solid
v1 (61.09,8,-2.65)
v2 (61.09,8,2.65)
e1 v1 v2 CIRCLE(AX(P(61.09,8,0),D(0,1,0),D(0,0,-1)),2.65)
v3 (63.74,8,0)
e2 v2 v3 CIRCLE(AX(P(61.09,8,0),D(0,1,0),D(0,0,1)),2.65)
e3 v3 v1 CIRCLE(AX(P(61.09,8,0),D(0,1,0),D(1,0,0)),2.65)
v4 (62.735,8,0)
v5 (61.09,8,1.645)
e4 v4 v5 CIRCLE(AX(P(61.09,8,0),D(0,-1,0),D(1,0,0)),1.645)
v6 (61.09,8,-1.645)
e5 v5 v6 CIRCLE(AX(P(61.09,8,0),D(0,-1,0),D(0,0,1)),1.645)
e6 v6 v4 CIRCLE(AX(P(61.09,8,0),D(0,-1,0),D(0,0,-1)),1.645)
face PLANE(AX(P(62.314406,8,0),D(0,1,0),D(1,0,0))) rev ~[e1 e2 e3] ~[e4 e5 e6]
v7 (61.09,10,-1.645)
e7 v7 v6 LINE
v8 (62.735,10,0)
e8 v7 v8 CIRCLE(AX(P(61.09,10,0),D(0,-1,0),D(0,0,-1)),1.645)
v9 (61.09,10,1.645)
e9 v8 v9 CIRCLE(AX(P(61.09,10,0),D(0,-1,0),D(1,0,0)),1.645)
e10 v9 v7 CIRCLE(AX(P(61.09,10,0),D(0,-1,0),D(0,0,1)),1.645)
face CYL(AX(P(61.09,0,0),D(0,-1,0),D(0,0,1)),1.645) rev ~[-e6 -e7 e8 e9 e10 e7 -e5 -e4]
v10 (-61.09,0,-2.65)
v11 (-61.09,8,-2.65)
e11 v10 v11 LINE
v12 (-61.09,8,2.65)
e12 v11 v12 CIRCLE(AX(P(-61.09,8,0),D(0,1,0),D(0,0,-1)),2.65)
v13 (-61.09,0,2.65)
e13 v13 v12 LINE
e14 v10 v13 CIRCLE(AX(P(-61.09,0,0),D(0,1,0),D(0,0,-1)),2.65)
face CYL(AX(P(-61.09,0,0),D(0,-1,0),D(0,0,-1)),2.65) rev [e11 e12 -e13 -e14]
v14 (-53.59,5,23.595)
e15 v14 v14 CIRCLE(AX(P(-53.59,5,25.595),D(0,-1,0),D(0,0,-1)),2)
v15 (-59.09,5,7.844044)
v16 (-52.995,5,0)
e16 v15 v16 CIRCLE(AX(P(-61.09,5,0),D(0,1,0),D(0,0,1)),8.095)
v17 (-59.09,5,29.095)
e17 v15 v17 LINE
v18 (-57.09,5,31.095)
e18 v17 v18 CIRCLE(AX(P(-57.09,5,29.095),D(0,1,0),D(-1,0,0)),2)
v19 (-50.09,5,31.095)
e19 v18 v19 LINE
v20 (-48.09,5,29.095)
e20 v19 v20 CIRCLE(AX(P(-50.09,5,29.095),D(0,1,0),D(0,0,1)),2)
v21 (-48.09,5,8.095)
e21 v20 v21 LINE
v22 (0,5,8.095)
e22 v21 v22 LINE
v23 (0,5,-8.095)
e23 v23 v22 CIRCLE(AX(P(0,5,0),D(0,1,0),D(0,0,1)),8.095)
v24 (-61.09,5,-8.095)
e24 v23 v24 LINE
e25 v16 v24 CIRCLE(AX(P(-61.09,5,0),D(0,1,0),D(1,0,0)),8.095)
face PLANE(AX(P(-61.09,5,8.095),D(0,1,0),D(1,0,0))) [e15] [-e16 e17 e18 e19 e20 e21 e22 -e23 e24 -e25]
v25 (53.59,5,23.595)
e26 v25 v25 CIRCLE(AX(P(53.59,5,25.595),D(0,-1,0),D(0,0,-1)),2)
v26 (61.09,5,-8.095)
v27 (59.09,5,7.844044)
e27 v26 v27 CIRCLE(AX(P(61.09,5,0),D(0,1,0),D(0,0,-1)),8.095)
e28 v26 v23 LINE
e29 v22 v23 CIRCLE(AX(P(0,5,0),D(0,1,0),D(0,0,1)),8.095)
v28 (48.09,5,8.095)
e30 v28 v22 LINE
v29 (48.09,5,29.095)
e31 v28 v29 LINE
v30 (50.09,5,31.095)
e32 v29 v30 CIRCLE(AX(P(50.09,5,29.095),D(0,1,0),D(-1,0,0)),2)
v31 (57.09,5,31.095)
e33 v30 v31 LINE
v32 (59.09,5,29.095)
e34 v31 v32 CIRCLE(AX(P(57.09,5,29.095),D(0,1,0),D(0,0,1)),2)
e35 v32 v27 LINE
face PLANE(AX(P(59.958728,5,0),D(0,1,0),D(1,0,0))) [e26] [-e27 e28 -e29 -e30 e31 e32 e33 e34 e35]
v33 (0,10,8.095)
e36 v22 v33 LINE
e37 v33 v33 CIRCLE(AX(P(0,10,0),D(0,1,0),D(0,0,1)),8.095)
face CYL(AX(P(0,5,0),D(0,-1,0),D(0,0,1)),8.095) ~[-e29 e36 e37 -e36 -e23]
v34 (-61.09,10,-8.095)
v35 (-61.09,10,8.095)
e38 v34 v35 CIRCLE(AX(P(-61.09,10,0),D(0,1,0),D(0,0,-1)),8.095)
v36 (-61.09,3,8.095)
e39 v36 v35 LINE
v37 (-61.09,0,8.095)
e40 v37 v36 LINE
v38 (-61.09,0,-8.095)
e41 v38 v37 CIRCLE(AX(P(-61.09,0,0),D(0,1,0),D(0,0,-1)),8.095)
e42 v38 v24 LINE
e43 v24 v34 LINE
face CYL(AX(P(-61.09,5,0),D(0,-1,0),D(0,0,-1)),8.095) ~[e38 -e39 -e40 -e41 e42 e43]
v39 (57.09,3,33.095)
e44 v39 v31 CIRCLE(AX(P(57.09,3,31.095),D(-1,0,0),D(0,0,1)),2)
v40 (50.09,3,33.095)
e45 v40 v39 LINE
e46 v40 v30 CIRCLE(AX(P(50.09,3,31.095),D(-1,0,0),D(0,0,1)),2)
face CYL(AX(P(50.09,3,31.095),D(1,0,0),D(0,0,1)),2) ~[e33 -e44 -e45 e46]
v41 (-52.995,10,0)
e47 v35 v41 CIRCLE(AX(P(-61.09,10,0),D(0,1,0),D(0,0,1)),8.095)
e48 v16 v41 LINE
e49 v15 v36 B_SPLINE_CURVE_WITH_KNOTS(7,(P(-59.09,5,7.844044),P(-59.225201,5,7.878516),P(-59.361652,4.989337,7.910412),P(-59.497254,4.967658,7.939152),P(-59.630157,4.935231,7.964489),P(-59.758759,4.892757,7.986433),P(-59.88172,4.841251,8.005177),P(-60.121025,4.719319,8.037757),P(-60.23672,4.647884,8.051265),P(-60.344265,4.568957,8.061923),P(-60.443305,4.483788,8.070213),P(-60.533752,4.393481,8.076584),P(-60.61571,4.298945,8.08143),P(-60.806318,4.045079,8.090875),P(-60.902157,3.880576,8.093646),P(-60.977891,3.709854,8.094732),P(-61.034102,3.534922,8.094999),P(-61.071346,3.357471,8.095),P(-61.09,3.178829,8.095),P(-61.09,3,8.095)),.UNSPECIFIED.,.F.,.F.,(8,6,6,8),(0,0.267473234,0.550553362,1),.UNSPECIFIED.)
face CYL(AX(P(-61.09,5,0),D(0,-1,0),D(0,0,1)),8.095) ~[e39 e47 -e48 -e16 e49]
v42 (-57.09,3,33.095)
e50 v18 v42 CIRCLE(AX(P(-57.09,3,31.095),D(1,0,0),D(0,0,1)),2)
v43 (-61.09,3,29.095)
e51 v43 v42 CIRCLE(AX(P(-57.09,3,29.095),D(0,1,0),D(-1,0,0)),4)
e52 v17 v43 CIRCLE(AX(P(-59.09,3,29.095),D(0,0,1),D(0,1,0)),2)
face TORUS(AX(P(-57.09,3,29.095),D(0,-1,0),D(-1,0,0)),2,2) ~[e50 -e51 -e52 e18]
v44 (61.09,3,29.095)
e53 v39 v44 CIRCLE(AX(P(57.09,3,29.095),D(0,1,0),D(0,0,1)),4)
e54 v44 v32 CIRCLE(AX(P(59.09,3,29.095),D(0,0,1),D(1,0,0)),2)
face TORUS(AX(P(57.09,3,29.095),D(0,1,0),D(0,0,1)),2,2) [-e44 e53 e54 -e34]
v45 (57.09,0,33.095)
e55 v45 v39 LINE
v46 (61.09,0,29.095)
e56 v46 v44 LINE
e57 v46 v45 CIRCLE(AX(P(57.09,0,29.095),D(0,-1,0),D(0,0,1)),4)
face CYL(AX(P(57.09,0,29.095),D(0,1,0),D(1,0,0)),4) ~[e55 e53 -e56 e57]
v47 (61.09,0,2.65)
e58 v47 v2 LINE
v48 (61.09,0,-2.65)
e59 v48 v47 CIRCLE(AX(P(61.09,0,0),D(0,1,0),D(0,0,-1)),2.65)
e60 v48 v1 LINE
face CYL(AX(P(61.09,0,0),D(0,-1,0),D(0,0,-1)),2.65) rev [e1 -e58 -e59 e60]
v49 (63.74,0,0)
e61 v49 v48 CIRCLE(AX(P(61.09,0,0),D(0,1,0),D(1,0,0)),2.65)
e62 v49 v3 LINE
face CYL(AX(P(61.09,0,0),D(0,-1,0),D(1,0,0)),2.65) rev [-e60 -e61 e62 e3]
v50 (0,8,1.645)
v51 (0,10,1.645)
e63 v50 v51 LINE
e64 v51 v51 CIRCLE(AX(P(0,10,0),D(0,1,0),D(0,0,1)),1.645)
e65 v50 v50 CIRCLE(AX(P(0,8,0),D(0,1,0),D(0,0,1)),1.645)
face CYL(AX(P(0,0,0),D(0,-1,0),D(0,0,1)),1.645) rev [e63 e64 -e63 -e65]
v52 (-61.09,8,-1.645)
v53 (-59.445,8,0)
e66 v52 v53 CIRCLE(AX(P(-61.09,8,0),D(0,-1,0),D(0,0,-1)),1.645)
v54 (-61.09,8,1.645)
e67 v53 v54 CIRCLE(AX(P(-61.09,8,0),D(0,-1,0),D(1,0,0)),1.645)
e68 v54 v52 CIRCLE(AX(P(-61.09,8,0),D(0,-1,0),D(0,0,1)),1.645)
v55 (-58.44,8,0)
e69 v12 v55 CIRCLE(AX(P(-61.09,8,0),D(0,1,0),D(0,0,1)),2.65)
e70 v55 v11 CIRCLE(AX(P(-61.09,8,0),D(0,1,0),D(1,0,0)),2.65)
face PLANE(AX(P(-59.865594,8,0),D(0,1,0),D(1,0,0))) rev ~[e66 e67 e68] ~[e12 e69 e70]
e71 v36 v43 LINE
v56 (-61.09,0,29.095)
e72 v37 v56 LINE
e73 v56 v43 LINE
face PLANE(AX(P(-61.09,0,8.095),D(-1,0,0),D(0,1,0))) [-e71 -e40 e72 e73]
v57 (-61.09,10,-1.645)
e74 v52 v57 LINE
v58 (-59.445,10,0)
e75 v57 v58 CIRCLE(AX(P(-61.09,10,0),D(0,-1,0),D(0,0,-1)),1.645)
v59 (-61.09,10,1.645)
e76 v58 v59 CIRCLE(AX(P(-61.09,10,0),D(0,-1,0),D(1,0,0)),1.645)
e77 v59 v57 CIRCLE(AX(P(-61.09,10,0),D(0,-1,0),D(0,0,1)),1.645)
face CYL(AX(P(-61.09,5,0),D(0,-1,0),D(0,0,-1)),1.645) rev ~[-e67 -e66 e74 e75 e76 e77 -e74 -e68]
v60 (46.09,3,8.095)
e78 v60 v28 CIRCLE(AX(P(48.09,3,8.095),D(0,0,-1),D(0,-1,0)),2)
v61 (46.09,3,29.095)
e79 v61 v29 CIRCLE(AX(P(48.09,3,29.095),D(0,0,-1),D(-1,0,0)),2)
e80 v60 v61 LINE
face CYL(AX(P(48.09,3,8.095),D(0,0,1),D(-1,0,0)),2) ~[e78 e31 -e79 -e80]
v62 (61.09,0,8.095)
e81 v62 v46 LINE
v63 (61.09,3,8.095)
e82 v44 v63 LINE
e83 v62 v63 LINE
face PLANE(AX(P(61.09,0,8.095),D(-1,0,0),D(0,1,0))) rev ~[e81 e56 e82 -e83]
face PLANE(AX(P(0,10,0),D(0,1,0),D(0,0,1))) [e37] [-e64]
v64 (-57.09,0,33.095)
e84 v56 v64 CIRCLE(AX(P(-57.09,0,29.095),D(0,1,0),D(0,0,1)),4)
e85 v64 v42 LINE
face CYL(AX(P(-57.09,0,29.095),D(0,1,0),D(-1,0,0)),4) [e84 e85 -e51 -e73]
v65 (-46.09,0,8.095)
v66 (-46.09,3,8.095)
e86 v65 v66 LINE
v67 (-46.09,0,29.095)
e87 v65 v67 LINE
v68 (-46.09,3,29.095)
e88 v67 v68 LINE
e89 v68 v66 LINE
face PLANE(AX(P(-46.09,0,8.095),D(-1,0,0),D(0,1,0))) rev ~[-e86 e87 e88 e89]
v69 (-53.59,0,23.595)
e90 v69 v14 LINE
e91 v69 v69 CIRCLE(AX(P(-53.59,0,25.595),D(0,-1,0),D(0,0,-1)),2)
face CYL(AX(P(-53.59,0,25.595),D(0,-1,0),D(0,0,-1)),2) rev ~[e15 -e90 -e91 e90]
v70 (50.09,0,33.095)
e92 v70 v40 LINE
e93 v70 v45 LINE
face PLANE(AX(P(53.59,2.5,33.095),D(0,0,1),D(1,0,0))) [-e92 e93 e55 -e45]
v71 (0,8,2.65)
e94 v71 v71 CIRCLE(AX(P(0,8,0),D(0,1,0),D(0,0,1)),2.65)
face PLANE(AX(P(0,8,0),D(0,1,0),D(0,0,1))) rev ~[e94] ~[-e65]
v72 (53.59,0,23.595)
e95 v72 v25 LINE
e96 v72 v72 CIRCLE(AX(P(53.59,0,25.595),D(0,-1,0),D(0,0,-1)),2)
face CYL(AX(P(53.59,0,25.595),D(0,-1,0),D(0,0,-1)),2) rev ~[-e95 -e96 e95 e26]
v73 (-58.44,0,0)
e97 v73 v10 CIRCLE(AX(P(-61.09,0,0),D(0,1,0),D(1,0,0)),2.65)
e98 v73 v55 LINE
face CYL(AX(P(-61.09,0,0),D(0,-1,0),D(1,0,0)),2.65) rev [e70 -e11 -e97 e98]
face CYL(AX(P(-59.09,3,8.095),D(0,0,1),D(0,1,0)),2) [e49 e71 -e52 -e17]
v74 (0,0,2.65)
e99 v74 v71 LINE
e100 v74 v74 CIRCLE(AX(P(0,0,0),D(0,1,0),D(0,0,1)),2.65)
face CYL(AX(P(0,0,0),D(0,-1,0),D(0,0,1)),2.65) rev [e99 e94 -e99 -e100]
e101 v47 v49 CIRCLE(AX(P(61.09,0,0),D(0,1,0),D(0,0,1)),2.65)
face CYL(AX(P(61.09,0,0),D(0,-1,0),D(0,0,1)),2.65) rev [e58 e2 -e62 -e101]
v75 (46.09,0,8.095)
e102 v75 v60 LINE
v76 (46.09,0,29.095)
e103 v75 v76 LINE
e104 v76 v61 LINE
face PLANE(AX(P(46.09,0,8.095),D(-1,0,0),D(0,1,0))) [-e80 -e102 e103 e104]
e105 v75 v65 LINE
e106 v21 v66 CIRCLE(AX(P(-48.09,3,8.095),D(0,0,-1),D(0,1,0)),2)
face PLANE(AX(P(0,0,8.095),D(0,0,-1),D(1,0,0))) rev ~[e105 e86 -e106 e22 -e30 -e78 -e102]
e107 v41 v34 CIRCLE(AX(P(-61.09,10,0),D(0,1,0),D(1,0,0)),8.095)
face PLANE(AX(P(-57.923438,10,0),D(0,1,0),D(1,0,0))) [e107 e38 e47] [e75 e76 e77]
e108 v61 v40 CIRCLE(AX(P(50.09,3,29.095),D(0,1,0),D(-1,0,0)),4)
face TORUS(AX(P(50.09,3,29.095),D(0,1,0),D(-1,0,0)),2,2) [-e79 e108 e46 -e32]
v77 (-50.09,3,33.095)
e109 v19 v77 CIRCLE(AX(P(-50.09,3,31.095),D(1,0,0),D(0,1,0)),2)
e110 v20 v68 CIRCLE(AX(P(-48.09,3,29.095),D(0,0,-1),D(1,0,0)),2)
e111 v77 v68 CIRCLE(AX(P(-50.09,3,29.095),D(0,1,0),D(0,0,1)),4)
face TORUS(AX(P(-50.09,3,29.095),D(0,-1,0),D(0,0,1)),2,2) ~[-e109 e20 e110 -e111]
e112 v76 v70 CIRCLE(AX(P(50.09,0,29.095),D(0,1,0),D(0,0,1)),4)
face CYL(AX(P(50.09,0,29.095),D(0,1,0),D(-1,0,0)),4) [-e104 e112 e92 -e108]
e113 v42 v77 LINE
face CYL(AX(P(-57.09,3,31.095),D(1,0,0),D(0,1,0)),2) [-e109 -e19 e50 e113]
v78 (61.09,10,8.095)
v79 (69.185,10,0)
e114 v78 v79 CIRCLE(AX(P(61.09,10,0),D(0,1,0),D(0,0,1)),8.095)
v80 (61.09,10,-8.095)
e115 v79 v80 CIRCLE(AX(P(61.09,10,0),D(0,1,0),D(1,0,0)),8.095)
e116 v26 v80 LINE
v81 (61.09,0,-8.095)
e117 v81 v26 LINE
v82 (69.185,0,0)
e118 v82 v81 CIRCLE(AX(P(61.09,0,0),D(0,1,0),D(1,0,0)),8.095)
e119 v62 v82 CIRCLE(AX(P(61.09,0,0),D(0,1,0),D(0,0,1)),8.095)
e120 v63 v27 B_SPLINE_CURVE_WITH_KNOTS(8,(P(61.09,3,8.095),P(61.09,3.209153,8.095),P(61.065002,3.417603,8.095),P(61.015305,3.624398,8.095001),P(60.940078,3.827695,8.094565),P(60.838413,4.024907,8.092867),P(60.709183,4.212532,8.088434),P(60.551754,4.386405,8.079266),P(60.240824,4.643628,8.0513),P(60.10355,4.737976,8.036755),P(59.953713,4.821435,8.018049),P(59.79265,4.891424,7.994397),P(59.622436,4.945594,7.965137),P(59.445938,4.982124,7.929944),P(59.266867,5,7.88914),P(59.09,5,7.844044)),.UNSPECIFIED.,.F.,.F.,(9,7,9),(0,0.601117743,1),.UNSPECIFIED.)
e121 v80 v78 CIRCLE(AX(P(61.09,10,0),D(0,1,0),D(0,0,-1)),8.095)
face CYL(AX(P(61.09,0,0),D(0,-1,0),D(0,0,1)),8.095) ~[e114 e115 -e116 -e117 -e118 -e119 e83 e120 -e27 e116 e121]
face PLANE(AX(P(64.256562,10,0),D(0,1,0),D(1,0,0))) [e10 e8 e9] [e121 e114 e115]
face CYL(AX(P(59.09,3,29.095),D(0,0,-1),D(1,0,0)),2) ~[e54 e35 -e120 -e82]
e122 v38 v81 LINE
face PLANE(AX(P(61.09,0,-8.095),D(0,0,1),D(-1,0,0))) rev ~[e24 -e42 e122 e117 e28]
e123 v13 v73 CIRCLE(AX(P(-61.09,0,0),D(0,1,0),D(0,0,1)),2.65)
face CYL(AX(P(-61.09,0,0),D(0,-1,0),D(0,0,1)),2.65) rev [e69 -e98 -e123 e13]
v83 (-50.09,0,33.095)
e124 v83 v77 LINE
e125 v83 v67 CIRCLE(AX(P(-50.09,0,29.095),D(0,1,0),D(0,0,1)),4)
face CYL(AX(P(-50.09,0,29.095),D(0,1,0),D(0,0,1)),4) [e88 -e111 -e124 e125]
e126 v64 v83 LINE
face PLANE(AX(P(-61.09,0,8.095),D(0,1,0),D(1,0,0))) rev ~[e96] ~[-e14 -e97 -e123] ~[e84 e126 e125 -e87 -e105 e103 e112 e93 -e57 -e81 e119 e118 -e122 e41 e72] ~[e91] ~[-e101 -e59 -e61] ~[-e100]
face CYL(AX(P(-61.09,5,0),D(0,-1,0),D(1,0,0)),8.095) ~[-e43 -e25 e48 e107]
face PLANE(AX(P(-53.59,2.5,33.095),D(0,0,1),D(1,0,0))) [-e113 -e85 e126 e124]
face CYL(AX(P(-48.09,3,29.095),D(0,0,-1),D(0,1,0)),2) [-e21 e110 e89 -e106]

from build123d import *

# Parameters (mm, degrees)
SKETCH1_R           = 8.095
SKETCH1_R_2         = 2.65
SKETCH1_R_3         = 1.645
BOSS_EXTRUDE1_DEPTH = 5
BOSS_EXTRUDE2_START = 5
SKETCH1_3_R         = 8.095
SKETCH1_3_R_2       = 2.65
SKETCH1_3_R_3       = 1.645
BOSS_EXTRUDE2_DEPTH = 5
SKETCH1_4_R         = 2.65
SKETCH1_4_R_2       = 1.645
CUT_EXTRUDE1_DEPTH  = 8
SKETCH2_W           = 15
SKETCH2_H           = 5
BOSS_EXTRUDE3_DEPTH = 25
FILLET1_R           = 4
FILLET2_R           = 2
CUT_EXTRUDE2_REACH  = 79.342
SKETCH3_R           = 2


with BuildPart() as part:
    # Sketch1 → Boss-Extrude1 (new body)
    # profile 1 of 20: a face of its own
    with BuildSketch(Plane(origin=(0, 0, 0), x_dir=(1, 0, 0), z_dir=(0, 1, 0))):
        with BuildLine():
            ThreePointArc((-52.995, 0), (-55.365970606, 5.724029394), (-61.09, 8.095))
            Line((-61.09, 8.095), (-61.09, 2.65))
            ThreePointArc((-61.09, 2.65), (-59.21616703, 1.87383297), (-58.44, 0))
            ThreePointArc((-58.44, 0), (-59.21616703, -1.87383297), (-61.09, -2.65))
            Line((-61.09, -2.65), (-61.09, -8.095))
            ThreePointArc((-61.09, -8.095), (-55.365970606, -5.724029394), (-52.995, 0))
        make_face()
    # profile 2 of 20: a face of its own
    with BuildSketch(Plane(origin=(0, 0, 0), x_dir=(1, 0, 0), z_dir=(0, 1, 0))):
        with BuildLine():
            Line((-61.09, 2.65), (-61.09, 8.095))
            ThreePointArc((-61.09, 8.095), (-69.185, 0), (-61.09, -8.095))
            Line((-61.09, -8.095), (-61.09, -2.65))
            ThreePointArc((-61.09, -2.65), (-63.74, 0), (-61.09, 2.65))
        make_face()
    # profile 3 of 20: a face of its own
    with BuildSketch(Plane(origin=(0, 0, 0), x_dir=(1, 0, 0), z_dir=(0, 1, 0))):
        with BuildLine():
            ThreePointArc((-52.995, 0), (-55.365970606, 5.724029394), (-61.09, 8.095))
            Line((-61.09, 8.095), (-61.09, 2.65))
            ThreePointArc((-61.09, 2.65), (-59.21616703, 1.87383297), (-58.44, 0))
            ThreePointArc((-58.44, 0), (-59.21616703, -1.87383297), (-61.09, -2.65))
            Line((-61.09, -2.65), (-61.09, -8.095))
            ThreePointArc((-61.09, -8.095), (-55.365970606, -5.724029394), (-52.995, 0))
        make_face()
    # profile 4 of 20: a face of its own
    with BuildSketch(Plane(origin=(0, 0, 0), x_dir=(1, 0, 0), z_dir=(0, 1, 0))):
        with BuildLine():
            Line((-61.09, 2.65), (-61.09, 8.095))
            ThreePointArc((-61.09, 8.095), (-69.185, 0), (-61.09, -8.095))
            Line((-61.09, -8.095), (-61.09, -2.65))
            ThreePointArc((-61.09, -2.65), (-63.74, 0), (-61.09, 2.65))
        make_face()
    # profile 5 of 20: a face of its own
    with BuildSketch(Plane(origin=(0, 0, 0), x_dir=(1, 0, 0), z_dir=(0, 1, 0))):
        with BuildLine():
            ThreePointArc((-58.44, 0), (-59.21616703, 1.87383297), (-61.09, 2.65))
            Line((-61.09, 2.65), (-61.09, 1.645))
            ThreePointArc((-61.09, 1.645), (-59.926809345, 1.163190655), (-59.445, 0))
            ThreePointArc((-59.445, 0), (-59.926809345, -1.163190655), (-61.09, -1.645))
            Line((-61.09, -1.645), (-61.09, -2.65))
            ThreePointArc((-61.09, -2.65), (-59.21616703, -1.87383297), (-58.44, 0))
        make_face()
    # profile 6 of 20: a face of its own
    with BuildSketch(Plane(origin=(0, 0, 0), x_dir=(1, 0, 0), z_dir=(0, 1, 0))):
        with BuildLine():
            Line((-61.09, 1.645), (-61.09, 2.65))
            ThreePointArc((-61.09, 2.65), (-63.74, 0), (-61.09, -2.65))
            Line((-61.09, -2.65), (-61.09, -1.645))
            ThreePointArc((-61.09, -1.645), (-62.735, 0), (-61.09, 1.645))
        make_face()
    # profile 7 of 20: a face of its own
    with BuildSketch(Plane(origin=(0, 0, 0), x_dir=(1, 0, 0), z_dir=(0, 1, 0))):
        with BuildLine():
            ThreePointArc((-58.44, 0), (-59.21616703, 1.87383297), (-61.09, 2.65))
            Line((-61.09, 2.65), (-61.09, 1.645))
            ThreePointArc((-61.09, 1.645), (-59.926809345, 1.163190655), (-59.445, 0))
            ThreePointArc((-59.445, 0), (-59.926809345, -1.163190655), (-61.09, -1.645))
            Line((-61.09, -1.645), (-61.09, -2.65))
            ThreePointArc((-61.09, -2.65), (-59.21616703, -1.87383297), (-58.44, 0))
        make_face()
    # profile 8 of 20: a face of its own
    with BuildSketch(Plane(origin=(0, 0, 0), x_dir=(1, 0, 0), z_dir=(0, 1, 0))):
        with BuildLine():
            Line((-61.09, 1.645), (-61.09, 2.65))
            ThreePointArc((-61.09, 2.65), (-63.74, 0), (-61.09, -2.65))
            Line((-61.09, -2.65), (-61.09, -1.645))
            ThreePointArc((-61.09, -1.645), (-62.735, 0), (-61.09, 1.645))
        make_face()
    # profile 9 of 20: a face of its own
    with BuildSketch(Plane(origin=(0, 0, 0), x_dir=(1, 0, 0), z_dir=(0, 1, 0))):
        with BuildLine():
            Line((-3.7e-08, 8.095), (-61.09, 8.095))
            ThreePointArc((-61.09, 8.095), (-55.365970606, 5.724029394), (-52.995, 0))
            ThreePointArc((-52.995, 0), (-55.365970606, -5.724029394), (-61.09, -8.095))
            Line((-61.09, -8.095), (4.2e-08, -8.095))
            ThreePointArc((4.2e-08, -8.095), (-8.095, -4e-08), (-3.7e-08, 8.095))
        make_face()
    # profile 10 of 20: a face of its own
    with BuildSketch(Plane(origin=(0, 0, 0), x_dir=(1, 0, 0), z_dir=(0, 1, 0))):
        Circle(SKETCH1_R)
        Circle(SKETCH1_R_2, mode=Mode.SUBTRACT)
    # profile 11 of 20: a face of its own
    with BuildSketch(Plane(origin=(0, 0, 0), x_dir=(1, 0, 0), z_dir=(0, 1, 0))):
        Circle(SKETCH1_R_2)
        with Locations(Location((0, 0, 0), (0, 0, 270))):
            Circle(SKETCH1_R_3, mode=Mode.SUBTRACT)
    # profile 12 of 20: a face of its own
    with BuildSketch(Plane(origin=(0, 0, 0), x_dir=(1, 0, 0), z_dir=(0, 1, 0))):
        with BuildLine():
            Line((61.09, 8.095), (-3.7e-08, 8.095))
            ThreePointArc((-3.7e-08, 8.095), (5.724029381, 5.724029407), (8.095, 0))
            ThreePointArc((8.095, 0), (5.724029409, -5.724029379), (4.2e-08, -8.095))
            Line((4.2e-08, -8.095), (61.09, -8.095))
            ThreePointArc((61.09, -8.095), (52.995, 0), (61.09, 8.095))
        make_face()
    # profile 13 of 20: a face of its own
    with BuildSketch(Plane(origin=(0, 0, 0), x_dir=(1, 0, 0), z_dir=(0, 1, 0))):
        with BuildLine():
            ThreePointArc((69.185, 0), (66.814029394, 5.724029394), (61.09, 8.095))
            Line((61.09, 8.095), (61.09, 2.65))
            ThreePointArc((61.09, 2.65), (62.96383297, 1.87383297), (63.74, 0))
            ThreePointArc((63.74, 0), (62.96383297, -1.87383297), (61.09, -2.65))
            Line((61.09, -2.65), (61.09, -8.095))
            ThreePointArc((61.09, -8.095), (66.814029394, -5.724029394), (69.185, 0))
        make_face()
    # profile 14 of 20: a face of its own
    with BuildSketch(Plane(origin=(0, 0, 0), x_dir=(1, 0, 0), z_dir=(0, 1, 0))):
        with BuildLine():
            Line((61.09, 2.65), (61.09, 8.095))
            ThreePointArc((61.09, 8.095), (52.995, 0), (61.09, -8.095))
            Line((61.09, -8.095), (61.09, -2.65))
            ThreePointArc((61.09, -2.65), (58.44, 0), (61.09, 2.65))
        make_face()
    # profile 15 of 20: a face of its own
    with BuildSketch(Plane(origin=(0, 0, 0), x_dir=(1, 0, 0), z_dir=(0, 1, 0))):
        with BuildLine():
            ThreePointArc((69.185, 0), (66.814029394, 5.724029394), (61.09, 8.095))
            Line((61.09, 8.095), (61.09, 2.65))
            ThreePointArc((61.09, 2.65), (62.96383297, 1.87383297), (63.74, 0))
            ThreePointArc((63.74, 0), (62.96383297, -1.87383297), (61.09, -2.65))
            Line((61.09, -2.65), (61.09, -8.095))
            ThreePointArc((61.09, -8.095), (66.814029394, -5.724029394), (69.185, 0))
        make_face()
    # profile 16 of 20: a face of its own
    with BuildSketch(Plane(origin=(0, 0, 0), x_dir=(1, 0, 0), z_dir=(0, 1, 0))):
        with BuildLine():
            Line((61.09, 2.65), (61.09, 8.095))
            ThreePointArc((61.09, 8.095), (52.995, 0), (61.09, -8.095))
            Line((61.09, -8.095), (61.09, -2.65))
            ThreePointArc((61.09, -2.65), (58.44, 0), (61.09, 2.65))
        make_face()
    # profile 17 of 20: a face of its own
    with BuildSketch(Plane(origin=(0, 0, 0), x_dir=(1, 0, 0), z_dir=(0, 1, 0))):
        with BuildLine():
            ThreePointArc((63.74, 0), (62.96383297, 1.87383297), (61.09, 2.65))
            Line((61.09, 2.65), (61.09, 1.645))
            ThreePointArc((61.09, 1.645), (62.253190655, 1.163190655), (62.735, 0))
            ThreePointArc((62.735, 0), (62.253190655, -1.163190655), (61.09, -1.645))
            Line((61.09, -1.645), (61.09, -2.65))
            ThreePointArc((61.09, -2.65), (62.96383297, -1.87383297), (63.74, 0))
        make_face()
    # profile 18 of 20: a face of its own
    with BuildSketch(Plane(origin=(0, 0, 0), x_dir=(1, 0, 0), z_dir=(0, 1, 0))):
        with BuildLine():
            Line((61.09, 1.645), (61.09, 2.65))
            ThreePointArc((61.09, 2.65), (58.44, 0), (61.09, -2.65))
            Line((61.09, -2.65), (61.09, -1.645))
            ThreePointArc((61.09, -1.645), (59.445, 0), (61.09, 1.645))
        make_face()
    # profile 19 of 20: a face of its own
    with BuildSketch(Plane(origin=(0, 0, 0), x_dir=(1, 0, 0), z_dir=(0, 1, 0))):
        with BuildLine():
            ThreePointArc((63.74, 0), (62.96383297, 1.87383297), (61.09, 2.65))
            Line((61.09, 2.65), (61.09, 1.645))
            ThreePointArc((61.09, 1.645), (62.253190655, 1.163190655), (62.735, 0))
            ThreePointArc((62.735, 0), (62.253190655, -1.163190655), (61.09, -1.645))
            Line((61.09, -1.645), (61.09, -2.65))
            ThreePointArc((61.09, -2.65), (62.96383297, -1.87383297), (63.74, 0))
        make_face()
    # profile 20 of 20: a face of its own
    with BuildSketch(Plane(origin=(0, 0, 0), x_dir=(1, 0, 0), z_dir=(0, 1, 0))):
        with BuildLine():
            Line((61.09, 1.645), (61.09, 2.65))
            ThreePointArc((61.09, 2.65), (58.44, 0), (61.09, -2.65))
            Line((61.09, -2.65), (61.09, -1.645))
            ThreePointArc((61.09, -1.645), (59.445, 0), (61.09, 1.645))
        make_face()
    extrude(amount=BOSS_EXTRUDE1_DEPTH)

    # Sketch1<3> → Boss-Extrude2 (add)
    # profile 1 of 18: a face of its own
    with BuildSketch(Plane(origin=(0, 0, 0), x_dir=(1, 0, 0), z_dir=(0, 1, 0)).offset(BOSS_EXTRUDE2_START)):
        with BuildLine():
            ThreePointArc((-52.995, 0), (-55.365970606, 5.724029394), (-61.09, 8.095))
            Line((-61.09, 8.095), (-61.09, 2.65))
            ThreePointArc((-61.09, 2.65), (-59.21616703, 1.87383297), (-58.44, 0))
            ThreePointArc((-58.44, 0), (-59.21616703, -1.87383297), (-61.09, -2.65))
            Line((-61.09, -2.65), (-61.09, -8.095))
            ThreePointArc((-61.09, -8.095), (-55.365970606, -5.724029394), (-52.995, 0))
        make_face()
    # profile 2 of 18: a face of its own
    with BuildSketch(Plane(origin=(0, 0, 0), x_dir=(1, 0, 0), z_dir=(0, 1, 0)).offset(BOSS_EXTRUDE2_START)):
        with BuildLine():
            Line((-61.09, 2.65), (-61.09, 8.095))
            ThreePointArc((-61.09, 8.095), (-69.185, 0), (-61.09, -8.095))
            Line((-61.09, -8.095), (-61.09, -2.65))
            ThreePointArc((-61.09, -2.65), (-63.74, 0), (-61.09, 2.65))
        make_face()
    # profile 3 of 18: a face of its own
    with BuildSketch(Plane(origin=(0, 0, 0), x_dir=(1, 0, 0), z_dir=(0, 1, 0)).offset(BOSS_EXTRUDE2_START)):
        with BuildLine():
            ThreePointArc((-58.44, 0), (-59.21616703, 1.87383297), (-61.09, 2.65))
            Line((-61.09, 2.65), (-61.09, 1.645))
            ThreePointArc((-61.09, 1.645), (-59.926809345, 1.163190655), (-59.445, 0))
            ThreePointArc((-59.445, 0), (-59.926809345, -1.163190655), (-61.09, -1.645))
            Line((-61.09, -1.645), (-61.09, -2.65))
            ThreePointArc((-61.09, -2.65), (-59.21616703, -1.87383297), (-58.44, 0))
        make_face()
    # profile 4 of 18: a face of its own
    with BuildSketch(Plane(origin=(0, 0, 0), x_dir=(1, 0, 0), z_dir=(0, 1, 0)).offset(BOSS_EXTRUDE2_START)):
        with BuildLine():
            Line((-61.09, 1.645), (-61.09, 2.65))
            ThreePointArc((-61.09, 2.65), (-63.74, 0), (-61.09, -2.65))
            Line((-61.09, -2.65), (-61.09, -1.645))
            ThreePointArc((-61.09, -1.645), (-62.735, 0), (-61.09, 1.645))
        make_face()
    # profile 5 of 18: a face of its own
    with BuildSketch(Plane(origin=(0, 0, 0), x_dir=(1, 0, 0), z_dir=(0, 1, 0)).offset(BOSS_EXTRUDE2_START)):
        with BuildLine():
            ThreePointArc((-58.44, 0), (-59.21616703, 1.87383297), (-61.09, 2.65))
            Line((-61.09, 2.65), (-61.09, 1.645))
            ThreePointArc((-61.09, 1.645), (-59.926809345, 1.163190655), (-59.445, 0))
            ThreePointArc((-59.445, 0), (-59.926809345, -1.163190655), (-61.09, -1.645))
            Line((-61.09, -1.645), (-61.09, -2.65))
            ThreePointArc((-61.09, -2.65), (-59.21616703, -1.87383297), (-58.44, 0))
        make_face()
    # profile 6 of 18: a face of its own
    with BuildSketch(Plane(origin=(0, 0, 0), x_dir=(1, 0, 0), z_dir=(0, 1, 0)).offset(BOSS_EXTRUDE2_START)):
        with BuildLine():
            Line((-61.09, 1.645), (-61.09, 2.65))
            ThreePointArc((-61.09, 2.65), (-63.74, 0), (-61.09, -2.65))
            Line((-61.09, -2.65), (-61.09, -1.645))
            ThreePointArc((-61.09, -1.645), (-62.735, 0), (-61.09, 1.645))
        make_face()
    # profile 7 of 18: a face of its own
    with BuildSketch(Plane(origin=(0, 0, 0), x_dir=(1, 0, 0), z_dir=(0, 1, 0)).offset(BOSS_EXTRUDE2_START)):
        with BuildLine():
            ThreePointArc((-52.995, 0), (-55.365970606, 5.724029394), (-61.09, 8.095))
            Line((-61.09, 8.095), (-61.09, 2.65))
            ThreePointArc((-61.09, 2.65), (-59.21616703, 1.87383297), (-58.44, 0))
            ThreePointArc((-58.44, 0), (-59.21616703, -1.87383297), (-61.09, -2.65))
            Line((-61.09, -2.65), (-61.09, -8.095))
            ThreePointArc((-61.09, -8.095), (-55.365970606, -5.724029394), (-52.995, 0))
        make_face()
    # profile 8 of 18: a face of its own
    with BuildSketch(Plane(origin=(0, 0, 0), x_dir=(1, 0, 0), z_dir=(0, 1, 0)).offset(BOSS_EXTRUDE2_START)):
        with BuildLine():
            Line((-61.09, 2.65), (-61.09, 8.095))
            ThreePointArc((-61.09, 8.095), (-69.185, 0), (-61.09, -8.095))
            Line((-61.09, -8.095), (-61.09, -2.65))
            ThreePointArc((-61.09, -2.65), (-63.74, 0), (-61.09, 2.65))
        make_face()
    # profile 9 of 18: a face of its own
    with BuildSketch(Plane(origin=(0, 0, 0), x_dir=(1, 0, 0), z_dir=(0, 1, 0)).offset(BOSS_EXTRUDE2_START)):
        with Locations(Location((0, 0, 0), (0, 0, 270))):
            Circle(SKETCH1_3_R)
        Circle(SKETCH1_3_R_2, mode=Mode.SUBTRACT)
    # profile 10 of 18: a face of its own
    with BuildSketch(Plane(origin=(0, 0, 0), x_dir=(1, 0, 0), z_dir=(0, 1, 0)).offset(BOSS_EXTRUDE2_START)):
        Circle(SKETCH1_3_R_2)
        with Locations(Location((0, 0, 0), (0, 0, 270))):
            Circle(SKETCH1_3_R_3, mode=Mode.SUBTRACT)
    # profile 11 of 18: a face of its own
    with BuildSketch(Plane(origin=(0, 0, 0), x_dir=(1, 0, 0), z_dir=(0, 1, 0)).offset(BOSS_EXTRUDE2_START)):
        with BuildLine():
            ThreePointArc((69.185, 0), (66.814029394, 5.724029394), (61.09, 8.095))
            Line((61.09, 8.095), (61.09, 2.65))
            ThreePointArc((61.09, 2.65), (62.96383297, 1.87383297), (63.74, 0))
            ThreePointArc((63.74, 0), (62.96383297, -1.87383297), (61.09, -2.65))
            Line((61.09, -2.65), (61.09, -8.095))
            ThreePointArc((61.09, -8.095), (66.814029394, -5.724029394), (69.185, 0))
        make_face()
    # profile 12 of 18: a face of its own
    with BuildSketch(Plane(origin=(0, 0, 0), x_dir=(1, 0, 0), z_dir=(0, 1, 0)).offset(BOSS_EXTRUDE2_START)):
        with BuildLine():
            Line((61.09, 2.65), (61.09, 8.095))
            ThreePointArc((61.09, 8.095), (52.995, 0), (61.09, -8.095))
            Line((61.09, -8.095), (61.09, -2.65))
            ThreePointArc((61.09, -2.65), (58.44, 0), (61.09, 2.65))
        make_face()
    # profile 13 of 18: a face of its own
    with BuildSketch(Plane(origin=(0, 0, 0), x_dir=(1, 0, 0), z_dir=(0, 1, 0)).offset(BOSS_EXTRUDE2_START)):
        with BuildLine():
            ThreePointArc((69.185, 0), (66.814029394, 5.724029394), (61.09, 8.095))
            Line((61.09, 8.095), (61.09, 2.65))
            ThreePointArc((61.09, 2.65), (62.96383297, 1.87383297), (63.74, 0))
            ThreePointArc((63.74, 0), (62.96383297, -1.87383297), (61.09, -2.65))
            Line((61.09, -2.65), (61.09, -8.095))
            ThreePointArc((61.09, -8.095), (66.814029394, -5.724029394), (69.185, 0))
        make_face()
    # profile 14 of 18: a face of its own
    with BuildSketch(Plane(origin=(0, 0, 0), x_dir=(1, 0, 0), z_dir=(0, 1, 0)).offset(BOSS_EXTRUDE2_START)):
        with BuildLine():
            Line((61.09, 2.65), (61.09, 8.095))
            ThreePointArc((61.09, 8.095), (52.995, 0), (61.09, -8.095))
            Line((61.09, -8.095), (61.09, -2.65))
            ThreePointArc((61.09, -2.65), (58.44, 0), (61.09, 2.65))
        make_face()
    # profile 15 of 18: a face of its own
    with BuildSketch(Plane(origin=(0, 0, 0), x_dir=(1, 0, 0), z_dir=(0, 1, 0)).offset(BOSS_EXTRUDE2_START)):
        with BuildLine():
            ThreePointArc((63.74, 0), (62.96383297, 1.87383297), (61.09, 2.65))
            Line((61.09, 2.65), (61.09, 1.645))
            ThreePointArc((61.09, 1.645), (62.253190655, 1.163190655), (62.735, 0))
            ThreePointArc((62.735, 0), (62.253190655, -1.163190655), (61.09, -1.645))
            Line((61.09, -1.645), (61.09, -2.65))
            ThreePointArc((61.09, -2.65), (62.96383297, -1.87383297), (63.74, 0))
        make_face()
    # profile 16 of 18: a face of its own
    with BuildSketch(Plane(origin=(0, 0, 0), x_dir=(1, 0, 0), z_dir=(0, 1, 0)).offset(BOSS_EXTRUDE2_START)):
        with BuildLine():
            Line((61.09, 1.645), (61.09, 2.65))
            ThreePointArc((61.09, 2.65), (58.44, 0), (61.09, -2.65))
            Line((61.09, -2.65), (61.09, -1.645))
            ThreePointArc((61.09, -1.645), (59.445, 0), (61.09, 1.645))
        make_face()
    # profile 17 of 18: a face of its own
    with BuildSketch(Plane(origin=(0, 0, 0), x_dir=(1, 0, 0), z_dir=(0, 1, 0)).offset(BOSS_EXTRUDE2_START)):
        with BuildLine():
            ThreePointArc((63.74, 0), (62.96383297, 1.87383297), (61.09, 2.65))
            Line((61.09, 2.65), (61.09, 1.645))
            ThreePointArc((61.09, 1.645), (62.253190655, 1.163190655), (62.735, 0))
            ThreePointArc((62.735, 0), (62.253190655, -1.163190655), (61.09, -1.645))
            Line((61.09, -1.645), (61.09, -2.65))
            ThreePointArc((61.09, -2.65), (62.96383297, -1.87383297), (63.74, 0))
        make_face()
    # profile 18 of 18: a face of its own
    with BuildSketch(Plane(origin=(0, 0, 0), x_dir=(1, 0, 0), z_dir=(0, 1, 0)).offset(BOSS_EXTRUDE2_START)):
        with BuildLine():
            Line((61.09, 1.645), (61.09, 2.65))
            ThreePointArc((61.09, 2.65), (58.44, 0), (61.09, -2.65))
            Line((61.09, -2.65), (61.09, -1.645))
            ThreePointArc((61.09, -1.645), (59.445, 0), (61.09, 1.645))
        make_face()
    extrude(amount=BOSS_EXTRUDE2_DEPTH)

    # Sketch1<4> → Cut-Extrude1 (cut)
    # profile 1 of 9: a face of its own
    with BuildSketch(Plane(origin=(0, 0, 0), x_dir=(1, 0, 0), z_dir=(0, 1, 0))):
        with BuildLine():
            ThreePointArc((-58.44, 0), (-59.21616703, 1.87383297), (-61.09, 2.65))
            Line((-61.09, 2.65), (-61.09, 1.645))
            ThreePointArc((-61.09, 1.645), (-59.926809345, 1.163190655), (-59.445, 0))
            ThreePointArc((-59.445, 0), (-59.926809345, -1.163190655), (-61.09, -1.645))
            Line((-61.09, -1.645), (-61.09, -2.65))
            ThreePointArc((-61.09, -2.65), (-59.21616703, -1.87383297), (-58.44, 0))
        make_face()
    # profile 2 of 9: a face of its own
    with BuildSketch(Plane(origin=(0, 0, 0), x_dir=(1, 0, 0), z_dir=(0, 1, 0))):
        with BuildLine():
            Line((-61.09, 1.645), (-61.09, 2.65))
            ThreePointArc((-61.09, 2.65), (-63.74, 0), (-61.09, -2.65))
            Line((-61.09, -2.65), (-61.09, -1.645))
            ThreePointArc((-61.09, -1.645), (-62.735, 0), (-61.09, 1.645))
        make_face()
    # profile 3 of 9: a face of its own
    with BuildSketch(Plane(origin=(0, 0, 0), x_dir=(1, 0, 0), z_dir=(0, 1, 0))):
        with BuildLine():
            ThreePointArc((-58.44, 0), (-59.21616703, 1.87383297), (-61.09, 2.65))
            Line((-61.09, 2.65), (-61.09, 1.645))
            ThreePointArc((-61.09, 1.645), (-59.926809345, 1.163190655), (-59.445, 0))
            ThreePointArc((-59.445, 0), (-59.926809345, -1.163190655), (-61.09, -1.645))
            Line((-61.09, -1.645), (-61.09, -2.65))
            ThreePointArc((-61.09, -2.65), (-59.21616703, -1.87383297), (-58.44, 0))
        make_face()
    # profile 4 of 9: a face of its own
    with BuildSketch(Plane(origin=(0, 0, 0), x_dir=(1, 0, 0), z_dir=(0, 1, 0))):
        with BuildLine():
            Line((-61.09, 1.645), (-61.09, 2.65))
            ThreePointArc((-61.09, 2.65), (-63.74, 0), (-61.09, -2.65))
            Line((-61.09, -2.65), (-61.09, -1.645))
            ThreePointArc((-61.09, -1.645), (-62.735, 0), (-61.09, 1.645))
        make_face()
    # profile 5 of 9: a face of its own
    with BuildSketch(Plane(origin=(0, 0, 0), x_dir=(1, 0, 0), z_dir=(0, 1, 0))):
        with Locations(Location((0, 0, 0), (0, 0, 270))):
            Circle(SKETCH1_4_R)
        with Locations(Location((0, 0, 0), (0, 0, 270))):
            Circle(SKETCH1_4_R_2, mode=Mode.SUBTRACT)
    # profile 6 of 9: a face of its own
    with BuildSketch(Plane(origin=(0, 0, 0), x_dir=(1, 0, 0), z_dir=(0, 1, 0))):
        with BuildLine():
            ThreePointArc((63.74, 0), (62.96383297, 1.87383297), (61.09, 2.65))
            Line((61.09, 2.65), (61.09, 1.645))
            ThreePointArc((61.09, 1.645), (62.253190655, 1.163190655), (62.735, 0))
            ThreePointArc((62.735, 0), (62.253190655, -1.163190655), (61.09, -1.645))
            Line((61.09, -1.645), (61.09, -2.65))
            ThreePointArc((61.09, -2.65), (62.96383297, -1.87383297), (63.74, 0))
        make_face()
    # profile 7 of 9: a face of its own
    with BuildSketch(Plane(origin=(0, 0, 0), x_dir=(1, 0, 0), z_dir=(0, 1, 0))):
        with BuildLine():
            Line((61.09, 1.645), (61.09, 2.65))
            ThreePointArc((61.09, 2.65), (58.44, 0), (61.09, -2.65))
            Line((61.09, -2.65), (61.09, -1.645))
            ThreePointArc((61.09, -1.645), (59.445, 0), (61.09, 1.645))
        make_face()
    # profile 8 of 9: a face of its own
    with BuildSketch(Plane(origin=(0, 0, 0), x_dir=(1, 0, 0), z_dir=(0, 1, 0))):
        with BuildLine():
            ThreePointArc((63.74, 0), (62.96383297, 1.87383297), (61.09, 2.65))
            Line((61.09, 2.65), (61.09, 1.645))
            ThreePointArc((61.09, 1.645), (62.253190655, 1.163190655), (62.735, 0))
            ThreePointArc((62.735, 0), (62.253190655, -1.163190655), (61.09, -1.645))
            Line((61.09, -1.645), (61.09, -2.65))
            ThreePointArc((61.09, -2.65), (62.96383297, -1.87383297), (63.74, 0))
        make_face()
    # profile 9 of 9: a face of its own
    with BuildSketch(Plane(origin=(0, 0, 0), x_dir=(1, 0, 0), z_dir=(0, 1, 0))):
        with BuildLine():
            Line((61.09, 1.645), (61.09, 2.65))
            ThreePointArc((61.09, 2.65), (58.44, 0), (61.09, -2.65))
            Line((61.09, -2.65), (61.09, -1.645))
            ThreePointArc((61.09, -1.645), (59.445, 0), (61.09, 1.645))
        make_face()
    extrude(amount=CUT_EXTRUDE1_DEPTH, mode=Mode.SUBTRACT)

    # Sketch2 → Boss-Extrude3 (add)
    with BuildSketch(Plane.XY.offset(8.095)):
        with Locations((-53.59, 2.5)):
            Rectangle(SKETCH2_W, SKETCH2_H)
        with Locations((53.59, 2.5)):
            Rectangle(SKETCH2_W, SKETCH2_H)
    extrude(amount=BOSS_EXTRUDE3_DEPTH)

    # Fillet1
    fillet1_edges = [part.edges().sort_by_distance(p)[0] for p in [
        (-61.09, 2.5, 33.095),
        (-46.09, 2.5, 33.095),
        (61.09, 2.5, 33.095),
        (46.09, 2.5, 33.095),
    ]]
    fillet(fillet1_edges, radius=FILLET1_R)

    # Fillet2
    fillet2_edges = [part.edges().sort_by_distance(p)[0] for p in [
        (-53.59, 5, 33.095),
        (-61.09, 5, 18.595),
        (-46.09, 5, 18.595),
        (-47.261572875, 5, 31.923427125),
        (-59.918427125, 5, 31.923427125),
        (53.59, 5, 33.095),
        (46.09, 5, 18.595),
        (61.09, 5, 18.595),
        (47.261572875, 5, 31.923427125),
        (59.918427125, 5, 31.923427125),
    ]]
    fillet(fillet2_edges, radius=FILLET2_R)

    # Sketch3 → Cut-Extrude2 (cut, up to next)
    with BuildSketch(Plane.XZ, mode=Mode.PRIVATE) as cut_extrude2_sk1:
        with Locations(Location((-53.59, 25.595, 0), (0, 0, 270))):
            Circle(SKETCH3_R)
    cut_extrude2_tool1 = extrude(cut_extrude2_sk1.sketch, amount=-CUT_EXTRUDE2_REACH, mode=Mode.PRIVATE) & part.part
    # Sketch3 → Cut-Extrude2 (cut, up to next)
    with BuildSketch(Plane.XZ, mode=Mode.PRIVATE) as cut_extrude2_sk2:
        with Locations(Location((53.59, 25.595, 0), (0, 0, 270))):
            Circle(SKETCH3_R)
    cut_extrude2_tool2 = extrude(cut_extrude2_sk2.sketch, amount=-CUT_EXTRUDE2_REACH, mode=Mode.PRIVATE) & part.part
    add(cut_extrude2_tool1.solids().sort_by_distance((-53.59, 0, 25.595))[0], mode=Mode.SUBTRACT)
    add(cut_extrude2_tool2.solids().sort_by_distance((53.59, 0, 25.595))[0], mode=Mode.SUBTRACT)


solid = part.part
